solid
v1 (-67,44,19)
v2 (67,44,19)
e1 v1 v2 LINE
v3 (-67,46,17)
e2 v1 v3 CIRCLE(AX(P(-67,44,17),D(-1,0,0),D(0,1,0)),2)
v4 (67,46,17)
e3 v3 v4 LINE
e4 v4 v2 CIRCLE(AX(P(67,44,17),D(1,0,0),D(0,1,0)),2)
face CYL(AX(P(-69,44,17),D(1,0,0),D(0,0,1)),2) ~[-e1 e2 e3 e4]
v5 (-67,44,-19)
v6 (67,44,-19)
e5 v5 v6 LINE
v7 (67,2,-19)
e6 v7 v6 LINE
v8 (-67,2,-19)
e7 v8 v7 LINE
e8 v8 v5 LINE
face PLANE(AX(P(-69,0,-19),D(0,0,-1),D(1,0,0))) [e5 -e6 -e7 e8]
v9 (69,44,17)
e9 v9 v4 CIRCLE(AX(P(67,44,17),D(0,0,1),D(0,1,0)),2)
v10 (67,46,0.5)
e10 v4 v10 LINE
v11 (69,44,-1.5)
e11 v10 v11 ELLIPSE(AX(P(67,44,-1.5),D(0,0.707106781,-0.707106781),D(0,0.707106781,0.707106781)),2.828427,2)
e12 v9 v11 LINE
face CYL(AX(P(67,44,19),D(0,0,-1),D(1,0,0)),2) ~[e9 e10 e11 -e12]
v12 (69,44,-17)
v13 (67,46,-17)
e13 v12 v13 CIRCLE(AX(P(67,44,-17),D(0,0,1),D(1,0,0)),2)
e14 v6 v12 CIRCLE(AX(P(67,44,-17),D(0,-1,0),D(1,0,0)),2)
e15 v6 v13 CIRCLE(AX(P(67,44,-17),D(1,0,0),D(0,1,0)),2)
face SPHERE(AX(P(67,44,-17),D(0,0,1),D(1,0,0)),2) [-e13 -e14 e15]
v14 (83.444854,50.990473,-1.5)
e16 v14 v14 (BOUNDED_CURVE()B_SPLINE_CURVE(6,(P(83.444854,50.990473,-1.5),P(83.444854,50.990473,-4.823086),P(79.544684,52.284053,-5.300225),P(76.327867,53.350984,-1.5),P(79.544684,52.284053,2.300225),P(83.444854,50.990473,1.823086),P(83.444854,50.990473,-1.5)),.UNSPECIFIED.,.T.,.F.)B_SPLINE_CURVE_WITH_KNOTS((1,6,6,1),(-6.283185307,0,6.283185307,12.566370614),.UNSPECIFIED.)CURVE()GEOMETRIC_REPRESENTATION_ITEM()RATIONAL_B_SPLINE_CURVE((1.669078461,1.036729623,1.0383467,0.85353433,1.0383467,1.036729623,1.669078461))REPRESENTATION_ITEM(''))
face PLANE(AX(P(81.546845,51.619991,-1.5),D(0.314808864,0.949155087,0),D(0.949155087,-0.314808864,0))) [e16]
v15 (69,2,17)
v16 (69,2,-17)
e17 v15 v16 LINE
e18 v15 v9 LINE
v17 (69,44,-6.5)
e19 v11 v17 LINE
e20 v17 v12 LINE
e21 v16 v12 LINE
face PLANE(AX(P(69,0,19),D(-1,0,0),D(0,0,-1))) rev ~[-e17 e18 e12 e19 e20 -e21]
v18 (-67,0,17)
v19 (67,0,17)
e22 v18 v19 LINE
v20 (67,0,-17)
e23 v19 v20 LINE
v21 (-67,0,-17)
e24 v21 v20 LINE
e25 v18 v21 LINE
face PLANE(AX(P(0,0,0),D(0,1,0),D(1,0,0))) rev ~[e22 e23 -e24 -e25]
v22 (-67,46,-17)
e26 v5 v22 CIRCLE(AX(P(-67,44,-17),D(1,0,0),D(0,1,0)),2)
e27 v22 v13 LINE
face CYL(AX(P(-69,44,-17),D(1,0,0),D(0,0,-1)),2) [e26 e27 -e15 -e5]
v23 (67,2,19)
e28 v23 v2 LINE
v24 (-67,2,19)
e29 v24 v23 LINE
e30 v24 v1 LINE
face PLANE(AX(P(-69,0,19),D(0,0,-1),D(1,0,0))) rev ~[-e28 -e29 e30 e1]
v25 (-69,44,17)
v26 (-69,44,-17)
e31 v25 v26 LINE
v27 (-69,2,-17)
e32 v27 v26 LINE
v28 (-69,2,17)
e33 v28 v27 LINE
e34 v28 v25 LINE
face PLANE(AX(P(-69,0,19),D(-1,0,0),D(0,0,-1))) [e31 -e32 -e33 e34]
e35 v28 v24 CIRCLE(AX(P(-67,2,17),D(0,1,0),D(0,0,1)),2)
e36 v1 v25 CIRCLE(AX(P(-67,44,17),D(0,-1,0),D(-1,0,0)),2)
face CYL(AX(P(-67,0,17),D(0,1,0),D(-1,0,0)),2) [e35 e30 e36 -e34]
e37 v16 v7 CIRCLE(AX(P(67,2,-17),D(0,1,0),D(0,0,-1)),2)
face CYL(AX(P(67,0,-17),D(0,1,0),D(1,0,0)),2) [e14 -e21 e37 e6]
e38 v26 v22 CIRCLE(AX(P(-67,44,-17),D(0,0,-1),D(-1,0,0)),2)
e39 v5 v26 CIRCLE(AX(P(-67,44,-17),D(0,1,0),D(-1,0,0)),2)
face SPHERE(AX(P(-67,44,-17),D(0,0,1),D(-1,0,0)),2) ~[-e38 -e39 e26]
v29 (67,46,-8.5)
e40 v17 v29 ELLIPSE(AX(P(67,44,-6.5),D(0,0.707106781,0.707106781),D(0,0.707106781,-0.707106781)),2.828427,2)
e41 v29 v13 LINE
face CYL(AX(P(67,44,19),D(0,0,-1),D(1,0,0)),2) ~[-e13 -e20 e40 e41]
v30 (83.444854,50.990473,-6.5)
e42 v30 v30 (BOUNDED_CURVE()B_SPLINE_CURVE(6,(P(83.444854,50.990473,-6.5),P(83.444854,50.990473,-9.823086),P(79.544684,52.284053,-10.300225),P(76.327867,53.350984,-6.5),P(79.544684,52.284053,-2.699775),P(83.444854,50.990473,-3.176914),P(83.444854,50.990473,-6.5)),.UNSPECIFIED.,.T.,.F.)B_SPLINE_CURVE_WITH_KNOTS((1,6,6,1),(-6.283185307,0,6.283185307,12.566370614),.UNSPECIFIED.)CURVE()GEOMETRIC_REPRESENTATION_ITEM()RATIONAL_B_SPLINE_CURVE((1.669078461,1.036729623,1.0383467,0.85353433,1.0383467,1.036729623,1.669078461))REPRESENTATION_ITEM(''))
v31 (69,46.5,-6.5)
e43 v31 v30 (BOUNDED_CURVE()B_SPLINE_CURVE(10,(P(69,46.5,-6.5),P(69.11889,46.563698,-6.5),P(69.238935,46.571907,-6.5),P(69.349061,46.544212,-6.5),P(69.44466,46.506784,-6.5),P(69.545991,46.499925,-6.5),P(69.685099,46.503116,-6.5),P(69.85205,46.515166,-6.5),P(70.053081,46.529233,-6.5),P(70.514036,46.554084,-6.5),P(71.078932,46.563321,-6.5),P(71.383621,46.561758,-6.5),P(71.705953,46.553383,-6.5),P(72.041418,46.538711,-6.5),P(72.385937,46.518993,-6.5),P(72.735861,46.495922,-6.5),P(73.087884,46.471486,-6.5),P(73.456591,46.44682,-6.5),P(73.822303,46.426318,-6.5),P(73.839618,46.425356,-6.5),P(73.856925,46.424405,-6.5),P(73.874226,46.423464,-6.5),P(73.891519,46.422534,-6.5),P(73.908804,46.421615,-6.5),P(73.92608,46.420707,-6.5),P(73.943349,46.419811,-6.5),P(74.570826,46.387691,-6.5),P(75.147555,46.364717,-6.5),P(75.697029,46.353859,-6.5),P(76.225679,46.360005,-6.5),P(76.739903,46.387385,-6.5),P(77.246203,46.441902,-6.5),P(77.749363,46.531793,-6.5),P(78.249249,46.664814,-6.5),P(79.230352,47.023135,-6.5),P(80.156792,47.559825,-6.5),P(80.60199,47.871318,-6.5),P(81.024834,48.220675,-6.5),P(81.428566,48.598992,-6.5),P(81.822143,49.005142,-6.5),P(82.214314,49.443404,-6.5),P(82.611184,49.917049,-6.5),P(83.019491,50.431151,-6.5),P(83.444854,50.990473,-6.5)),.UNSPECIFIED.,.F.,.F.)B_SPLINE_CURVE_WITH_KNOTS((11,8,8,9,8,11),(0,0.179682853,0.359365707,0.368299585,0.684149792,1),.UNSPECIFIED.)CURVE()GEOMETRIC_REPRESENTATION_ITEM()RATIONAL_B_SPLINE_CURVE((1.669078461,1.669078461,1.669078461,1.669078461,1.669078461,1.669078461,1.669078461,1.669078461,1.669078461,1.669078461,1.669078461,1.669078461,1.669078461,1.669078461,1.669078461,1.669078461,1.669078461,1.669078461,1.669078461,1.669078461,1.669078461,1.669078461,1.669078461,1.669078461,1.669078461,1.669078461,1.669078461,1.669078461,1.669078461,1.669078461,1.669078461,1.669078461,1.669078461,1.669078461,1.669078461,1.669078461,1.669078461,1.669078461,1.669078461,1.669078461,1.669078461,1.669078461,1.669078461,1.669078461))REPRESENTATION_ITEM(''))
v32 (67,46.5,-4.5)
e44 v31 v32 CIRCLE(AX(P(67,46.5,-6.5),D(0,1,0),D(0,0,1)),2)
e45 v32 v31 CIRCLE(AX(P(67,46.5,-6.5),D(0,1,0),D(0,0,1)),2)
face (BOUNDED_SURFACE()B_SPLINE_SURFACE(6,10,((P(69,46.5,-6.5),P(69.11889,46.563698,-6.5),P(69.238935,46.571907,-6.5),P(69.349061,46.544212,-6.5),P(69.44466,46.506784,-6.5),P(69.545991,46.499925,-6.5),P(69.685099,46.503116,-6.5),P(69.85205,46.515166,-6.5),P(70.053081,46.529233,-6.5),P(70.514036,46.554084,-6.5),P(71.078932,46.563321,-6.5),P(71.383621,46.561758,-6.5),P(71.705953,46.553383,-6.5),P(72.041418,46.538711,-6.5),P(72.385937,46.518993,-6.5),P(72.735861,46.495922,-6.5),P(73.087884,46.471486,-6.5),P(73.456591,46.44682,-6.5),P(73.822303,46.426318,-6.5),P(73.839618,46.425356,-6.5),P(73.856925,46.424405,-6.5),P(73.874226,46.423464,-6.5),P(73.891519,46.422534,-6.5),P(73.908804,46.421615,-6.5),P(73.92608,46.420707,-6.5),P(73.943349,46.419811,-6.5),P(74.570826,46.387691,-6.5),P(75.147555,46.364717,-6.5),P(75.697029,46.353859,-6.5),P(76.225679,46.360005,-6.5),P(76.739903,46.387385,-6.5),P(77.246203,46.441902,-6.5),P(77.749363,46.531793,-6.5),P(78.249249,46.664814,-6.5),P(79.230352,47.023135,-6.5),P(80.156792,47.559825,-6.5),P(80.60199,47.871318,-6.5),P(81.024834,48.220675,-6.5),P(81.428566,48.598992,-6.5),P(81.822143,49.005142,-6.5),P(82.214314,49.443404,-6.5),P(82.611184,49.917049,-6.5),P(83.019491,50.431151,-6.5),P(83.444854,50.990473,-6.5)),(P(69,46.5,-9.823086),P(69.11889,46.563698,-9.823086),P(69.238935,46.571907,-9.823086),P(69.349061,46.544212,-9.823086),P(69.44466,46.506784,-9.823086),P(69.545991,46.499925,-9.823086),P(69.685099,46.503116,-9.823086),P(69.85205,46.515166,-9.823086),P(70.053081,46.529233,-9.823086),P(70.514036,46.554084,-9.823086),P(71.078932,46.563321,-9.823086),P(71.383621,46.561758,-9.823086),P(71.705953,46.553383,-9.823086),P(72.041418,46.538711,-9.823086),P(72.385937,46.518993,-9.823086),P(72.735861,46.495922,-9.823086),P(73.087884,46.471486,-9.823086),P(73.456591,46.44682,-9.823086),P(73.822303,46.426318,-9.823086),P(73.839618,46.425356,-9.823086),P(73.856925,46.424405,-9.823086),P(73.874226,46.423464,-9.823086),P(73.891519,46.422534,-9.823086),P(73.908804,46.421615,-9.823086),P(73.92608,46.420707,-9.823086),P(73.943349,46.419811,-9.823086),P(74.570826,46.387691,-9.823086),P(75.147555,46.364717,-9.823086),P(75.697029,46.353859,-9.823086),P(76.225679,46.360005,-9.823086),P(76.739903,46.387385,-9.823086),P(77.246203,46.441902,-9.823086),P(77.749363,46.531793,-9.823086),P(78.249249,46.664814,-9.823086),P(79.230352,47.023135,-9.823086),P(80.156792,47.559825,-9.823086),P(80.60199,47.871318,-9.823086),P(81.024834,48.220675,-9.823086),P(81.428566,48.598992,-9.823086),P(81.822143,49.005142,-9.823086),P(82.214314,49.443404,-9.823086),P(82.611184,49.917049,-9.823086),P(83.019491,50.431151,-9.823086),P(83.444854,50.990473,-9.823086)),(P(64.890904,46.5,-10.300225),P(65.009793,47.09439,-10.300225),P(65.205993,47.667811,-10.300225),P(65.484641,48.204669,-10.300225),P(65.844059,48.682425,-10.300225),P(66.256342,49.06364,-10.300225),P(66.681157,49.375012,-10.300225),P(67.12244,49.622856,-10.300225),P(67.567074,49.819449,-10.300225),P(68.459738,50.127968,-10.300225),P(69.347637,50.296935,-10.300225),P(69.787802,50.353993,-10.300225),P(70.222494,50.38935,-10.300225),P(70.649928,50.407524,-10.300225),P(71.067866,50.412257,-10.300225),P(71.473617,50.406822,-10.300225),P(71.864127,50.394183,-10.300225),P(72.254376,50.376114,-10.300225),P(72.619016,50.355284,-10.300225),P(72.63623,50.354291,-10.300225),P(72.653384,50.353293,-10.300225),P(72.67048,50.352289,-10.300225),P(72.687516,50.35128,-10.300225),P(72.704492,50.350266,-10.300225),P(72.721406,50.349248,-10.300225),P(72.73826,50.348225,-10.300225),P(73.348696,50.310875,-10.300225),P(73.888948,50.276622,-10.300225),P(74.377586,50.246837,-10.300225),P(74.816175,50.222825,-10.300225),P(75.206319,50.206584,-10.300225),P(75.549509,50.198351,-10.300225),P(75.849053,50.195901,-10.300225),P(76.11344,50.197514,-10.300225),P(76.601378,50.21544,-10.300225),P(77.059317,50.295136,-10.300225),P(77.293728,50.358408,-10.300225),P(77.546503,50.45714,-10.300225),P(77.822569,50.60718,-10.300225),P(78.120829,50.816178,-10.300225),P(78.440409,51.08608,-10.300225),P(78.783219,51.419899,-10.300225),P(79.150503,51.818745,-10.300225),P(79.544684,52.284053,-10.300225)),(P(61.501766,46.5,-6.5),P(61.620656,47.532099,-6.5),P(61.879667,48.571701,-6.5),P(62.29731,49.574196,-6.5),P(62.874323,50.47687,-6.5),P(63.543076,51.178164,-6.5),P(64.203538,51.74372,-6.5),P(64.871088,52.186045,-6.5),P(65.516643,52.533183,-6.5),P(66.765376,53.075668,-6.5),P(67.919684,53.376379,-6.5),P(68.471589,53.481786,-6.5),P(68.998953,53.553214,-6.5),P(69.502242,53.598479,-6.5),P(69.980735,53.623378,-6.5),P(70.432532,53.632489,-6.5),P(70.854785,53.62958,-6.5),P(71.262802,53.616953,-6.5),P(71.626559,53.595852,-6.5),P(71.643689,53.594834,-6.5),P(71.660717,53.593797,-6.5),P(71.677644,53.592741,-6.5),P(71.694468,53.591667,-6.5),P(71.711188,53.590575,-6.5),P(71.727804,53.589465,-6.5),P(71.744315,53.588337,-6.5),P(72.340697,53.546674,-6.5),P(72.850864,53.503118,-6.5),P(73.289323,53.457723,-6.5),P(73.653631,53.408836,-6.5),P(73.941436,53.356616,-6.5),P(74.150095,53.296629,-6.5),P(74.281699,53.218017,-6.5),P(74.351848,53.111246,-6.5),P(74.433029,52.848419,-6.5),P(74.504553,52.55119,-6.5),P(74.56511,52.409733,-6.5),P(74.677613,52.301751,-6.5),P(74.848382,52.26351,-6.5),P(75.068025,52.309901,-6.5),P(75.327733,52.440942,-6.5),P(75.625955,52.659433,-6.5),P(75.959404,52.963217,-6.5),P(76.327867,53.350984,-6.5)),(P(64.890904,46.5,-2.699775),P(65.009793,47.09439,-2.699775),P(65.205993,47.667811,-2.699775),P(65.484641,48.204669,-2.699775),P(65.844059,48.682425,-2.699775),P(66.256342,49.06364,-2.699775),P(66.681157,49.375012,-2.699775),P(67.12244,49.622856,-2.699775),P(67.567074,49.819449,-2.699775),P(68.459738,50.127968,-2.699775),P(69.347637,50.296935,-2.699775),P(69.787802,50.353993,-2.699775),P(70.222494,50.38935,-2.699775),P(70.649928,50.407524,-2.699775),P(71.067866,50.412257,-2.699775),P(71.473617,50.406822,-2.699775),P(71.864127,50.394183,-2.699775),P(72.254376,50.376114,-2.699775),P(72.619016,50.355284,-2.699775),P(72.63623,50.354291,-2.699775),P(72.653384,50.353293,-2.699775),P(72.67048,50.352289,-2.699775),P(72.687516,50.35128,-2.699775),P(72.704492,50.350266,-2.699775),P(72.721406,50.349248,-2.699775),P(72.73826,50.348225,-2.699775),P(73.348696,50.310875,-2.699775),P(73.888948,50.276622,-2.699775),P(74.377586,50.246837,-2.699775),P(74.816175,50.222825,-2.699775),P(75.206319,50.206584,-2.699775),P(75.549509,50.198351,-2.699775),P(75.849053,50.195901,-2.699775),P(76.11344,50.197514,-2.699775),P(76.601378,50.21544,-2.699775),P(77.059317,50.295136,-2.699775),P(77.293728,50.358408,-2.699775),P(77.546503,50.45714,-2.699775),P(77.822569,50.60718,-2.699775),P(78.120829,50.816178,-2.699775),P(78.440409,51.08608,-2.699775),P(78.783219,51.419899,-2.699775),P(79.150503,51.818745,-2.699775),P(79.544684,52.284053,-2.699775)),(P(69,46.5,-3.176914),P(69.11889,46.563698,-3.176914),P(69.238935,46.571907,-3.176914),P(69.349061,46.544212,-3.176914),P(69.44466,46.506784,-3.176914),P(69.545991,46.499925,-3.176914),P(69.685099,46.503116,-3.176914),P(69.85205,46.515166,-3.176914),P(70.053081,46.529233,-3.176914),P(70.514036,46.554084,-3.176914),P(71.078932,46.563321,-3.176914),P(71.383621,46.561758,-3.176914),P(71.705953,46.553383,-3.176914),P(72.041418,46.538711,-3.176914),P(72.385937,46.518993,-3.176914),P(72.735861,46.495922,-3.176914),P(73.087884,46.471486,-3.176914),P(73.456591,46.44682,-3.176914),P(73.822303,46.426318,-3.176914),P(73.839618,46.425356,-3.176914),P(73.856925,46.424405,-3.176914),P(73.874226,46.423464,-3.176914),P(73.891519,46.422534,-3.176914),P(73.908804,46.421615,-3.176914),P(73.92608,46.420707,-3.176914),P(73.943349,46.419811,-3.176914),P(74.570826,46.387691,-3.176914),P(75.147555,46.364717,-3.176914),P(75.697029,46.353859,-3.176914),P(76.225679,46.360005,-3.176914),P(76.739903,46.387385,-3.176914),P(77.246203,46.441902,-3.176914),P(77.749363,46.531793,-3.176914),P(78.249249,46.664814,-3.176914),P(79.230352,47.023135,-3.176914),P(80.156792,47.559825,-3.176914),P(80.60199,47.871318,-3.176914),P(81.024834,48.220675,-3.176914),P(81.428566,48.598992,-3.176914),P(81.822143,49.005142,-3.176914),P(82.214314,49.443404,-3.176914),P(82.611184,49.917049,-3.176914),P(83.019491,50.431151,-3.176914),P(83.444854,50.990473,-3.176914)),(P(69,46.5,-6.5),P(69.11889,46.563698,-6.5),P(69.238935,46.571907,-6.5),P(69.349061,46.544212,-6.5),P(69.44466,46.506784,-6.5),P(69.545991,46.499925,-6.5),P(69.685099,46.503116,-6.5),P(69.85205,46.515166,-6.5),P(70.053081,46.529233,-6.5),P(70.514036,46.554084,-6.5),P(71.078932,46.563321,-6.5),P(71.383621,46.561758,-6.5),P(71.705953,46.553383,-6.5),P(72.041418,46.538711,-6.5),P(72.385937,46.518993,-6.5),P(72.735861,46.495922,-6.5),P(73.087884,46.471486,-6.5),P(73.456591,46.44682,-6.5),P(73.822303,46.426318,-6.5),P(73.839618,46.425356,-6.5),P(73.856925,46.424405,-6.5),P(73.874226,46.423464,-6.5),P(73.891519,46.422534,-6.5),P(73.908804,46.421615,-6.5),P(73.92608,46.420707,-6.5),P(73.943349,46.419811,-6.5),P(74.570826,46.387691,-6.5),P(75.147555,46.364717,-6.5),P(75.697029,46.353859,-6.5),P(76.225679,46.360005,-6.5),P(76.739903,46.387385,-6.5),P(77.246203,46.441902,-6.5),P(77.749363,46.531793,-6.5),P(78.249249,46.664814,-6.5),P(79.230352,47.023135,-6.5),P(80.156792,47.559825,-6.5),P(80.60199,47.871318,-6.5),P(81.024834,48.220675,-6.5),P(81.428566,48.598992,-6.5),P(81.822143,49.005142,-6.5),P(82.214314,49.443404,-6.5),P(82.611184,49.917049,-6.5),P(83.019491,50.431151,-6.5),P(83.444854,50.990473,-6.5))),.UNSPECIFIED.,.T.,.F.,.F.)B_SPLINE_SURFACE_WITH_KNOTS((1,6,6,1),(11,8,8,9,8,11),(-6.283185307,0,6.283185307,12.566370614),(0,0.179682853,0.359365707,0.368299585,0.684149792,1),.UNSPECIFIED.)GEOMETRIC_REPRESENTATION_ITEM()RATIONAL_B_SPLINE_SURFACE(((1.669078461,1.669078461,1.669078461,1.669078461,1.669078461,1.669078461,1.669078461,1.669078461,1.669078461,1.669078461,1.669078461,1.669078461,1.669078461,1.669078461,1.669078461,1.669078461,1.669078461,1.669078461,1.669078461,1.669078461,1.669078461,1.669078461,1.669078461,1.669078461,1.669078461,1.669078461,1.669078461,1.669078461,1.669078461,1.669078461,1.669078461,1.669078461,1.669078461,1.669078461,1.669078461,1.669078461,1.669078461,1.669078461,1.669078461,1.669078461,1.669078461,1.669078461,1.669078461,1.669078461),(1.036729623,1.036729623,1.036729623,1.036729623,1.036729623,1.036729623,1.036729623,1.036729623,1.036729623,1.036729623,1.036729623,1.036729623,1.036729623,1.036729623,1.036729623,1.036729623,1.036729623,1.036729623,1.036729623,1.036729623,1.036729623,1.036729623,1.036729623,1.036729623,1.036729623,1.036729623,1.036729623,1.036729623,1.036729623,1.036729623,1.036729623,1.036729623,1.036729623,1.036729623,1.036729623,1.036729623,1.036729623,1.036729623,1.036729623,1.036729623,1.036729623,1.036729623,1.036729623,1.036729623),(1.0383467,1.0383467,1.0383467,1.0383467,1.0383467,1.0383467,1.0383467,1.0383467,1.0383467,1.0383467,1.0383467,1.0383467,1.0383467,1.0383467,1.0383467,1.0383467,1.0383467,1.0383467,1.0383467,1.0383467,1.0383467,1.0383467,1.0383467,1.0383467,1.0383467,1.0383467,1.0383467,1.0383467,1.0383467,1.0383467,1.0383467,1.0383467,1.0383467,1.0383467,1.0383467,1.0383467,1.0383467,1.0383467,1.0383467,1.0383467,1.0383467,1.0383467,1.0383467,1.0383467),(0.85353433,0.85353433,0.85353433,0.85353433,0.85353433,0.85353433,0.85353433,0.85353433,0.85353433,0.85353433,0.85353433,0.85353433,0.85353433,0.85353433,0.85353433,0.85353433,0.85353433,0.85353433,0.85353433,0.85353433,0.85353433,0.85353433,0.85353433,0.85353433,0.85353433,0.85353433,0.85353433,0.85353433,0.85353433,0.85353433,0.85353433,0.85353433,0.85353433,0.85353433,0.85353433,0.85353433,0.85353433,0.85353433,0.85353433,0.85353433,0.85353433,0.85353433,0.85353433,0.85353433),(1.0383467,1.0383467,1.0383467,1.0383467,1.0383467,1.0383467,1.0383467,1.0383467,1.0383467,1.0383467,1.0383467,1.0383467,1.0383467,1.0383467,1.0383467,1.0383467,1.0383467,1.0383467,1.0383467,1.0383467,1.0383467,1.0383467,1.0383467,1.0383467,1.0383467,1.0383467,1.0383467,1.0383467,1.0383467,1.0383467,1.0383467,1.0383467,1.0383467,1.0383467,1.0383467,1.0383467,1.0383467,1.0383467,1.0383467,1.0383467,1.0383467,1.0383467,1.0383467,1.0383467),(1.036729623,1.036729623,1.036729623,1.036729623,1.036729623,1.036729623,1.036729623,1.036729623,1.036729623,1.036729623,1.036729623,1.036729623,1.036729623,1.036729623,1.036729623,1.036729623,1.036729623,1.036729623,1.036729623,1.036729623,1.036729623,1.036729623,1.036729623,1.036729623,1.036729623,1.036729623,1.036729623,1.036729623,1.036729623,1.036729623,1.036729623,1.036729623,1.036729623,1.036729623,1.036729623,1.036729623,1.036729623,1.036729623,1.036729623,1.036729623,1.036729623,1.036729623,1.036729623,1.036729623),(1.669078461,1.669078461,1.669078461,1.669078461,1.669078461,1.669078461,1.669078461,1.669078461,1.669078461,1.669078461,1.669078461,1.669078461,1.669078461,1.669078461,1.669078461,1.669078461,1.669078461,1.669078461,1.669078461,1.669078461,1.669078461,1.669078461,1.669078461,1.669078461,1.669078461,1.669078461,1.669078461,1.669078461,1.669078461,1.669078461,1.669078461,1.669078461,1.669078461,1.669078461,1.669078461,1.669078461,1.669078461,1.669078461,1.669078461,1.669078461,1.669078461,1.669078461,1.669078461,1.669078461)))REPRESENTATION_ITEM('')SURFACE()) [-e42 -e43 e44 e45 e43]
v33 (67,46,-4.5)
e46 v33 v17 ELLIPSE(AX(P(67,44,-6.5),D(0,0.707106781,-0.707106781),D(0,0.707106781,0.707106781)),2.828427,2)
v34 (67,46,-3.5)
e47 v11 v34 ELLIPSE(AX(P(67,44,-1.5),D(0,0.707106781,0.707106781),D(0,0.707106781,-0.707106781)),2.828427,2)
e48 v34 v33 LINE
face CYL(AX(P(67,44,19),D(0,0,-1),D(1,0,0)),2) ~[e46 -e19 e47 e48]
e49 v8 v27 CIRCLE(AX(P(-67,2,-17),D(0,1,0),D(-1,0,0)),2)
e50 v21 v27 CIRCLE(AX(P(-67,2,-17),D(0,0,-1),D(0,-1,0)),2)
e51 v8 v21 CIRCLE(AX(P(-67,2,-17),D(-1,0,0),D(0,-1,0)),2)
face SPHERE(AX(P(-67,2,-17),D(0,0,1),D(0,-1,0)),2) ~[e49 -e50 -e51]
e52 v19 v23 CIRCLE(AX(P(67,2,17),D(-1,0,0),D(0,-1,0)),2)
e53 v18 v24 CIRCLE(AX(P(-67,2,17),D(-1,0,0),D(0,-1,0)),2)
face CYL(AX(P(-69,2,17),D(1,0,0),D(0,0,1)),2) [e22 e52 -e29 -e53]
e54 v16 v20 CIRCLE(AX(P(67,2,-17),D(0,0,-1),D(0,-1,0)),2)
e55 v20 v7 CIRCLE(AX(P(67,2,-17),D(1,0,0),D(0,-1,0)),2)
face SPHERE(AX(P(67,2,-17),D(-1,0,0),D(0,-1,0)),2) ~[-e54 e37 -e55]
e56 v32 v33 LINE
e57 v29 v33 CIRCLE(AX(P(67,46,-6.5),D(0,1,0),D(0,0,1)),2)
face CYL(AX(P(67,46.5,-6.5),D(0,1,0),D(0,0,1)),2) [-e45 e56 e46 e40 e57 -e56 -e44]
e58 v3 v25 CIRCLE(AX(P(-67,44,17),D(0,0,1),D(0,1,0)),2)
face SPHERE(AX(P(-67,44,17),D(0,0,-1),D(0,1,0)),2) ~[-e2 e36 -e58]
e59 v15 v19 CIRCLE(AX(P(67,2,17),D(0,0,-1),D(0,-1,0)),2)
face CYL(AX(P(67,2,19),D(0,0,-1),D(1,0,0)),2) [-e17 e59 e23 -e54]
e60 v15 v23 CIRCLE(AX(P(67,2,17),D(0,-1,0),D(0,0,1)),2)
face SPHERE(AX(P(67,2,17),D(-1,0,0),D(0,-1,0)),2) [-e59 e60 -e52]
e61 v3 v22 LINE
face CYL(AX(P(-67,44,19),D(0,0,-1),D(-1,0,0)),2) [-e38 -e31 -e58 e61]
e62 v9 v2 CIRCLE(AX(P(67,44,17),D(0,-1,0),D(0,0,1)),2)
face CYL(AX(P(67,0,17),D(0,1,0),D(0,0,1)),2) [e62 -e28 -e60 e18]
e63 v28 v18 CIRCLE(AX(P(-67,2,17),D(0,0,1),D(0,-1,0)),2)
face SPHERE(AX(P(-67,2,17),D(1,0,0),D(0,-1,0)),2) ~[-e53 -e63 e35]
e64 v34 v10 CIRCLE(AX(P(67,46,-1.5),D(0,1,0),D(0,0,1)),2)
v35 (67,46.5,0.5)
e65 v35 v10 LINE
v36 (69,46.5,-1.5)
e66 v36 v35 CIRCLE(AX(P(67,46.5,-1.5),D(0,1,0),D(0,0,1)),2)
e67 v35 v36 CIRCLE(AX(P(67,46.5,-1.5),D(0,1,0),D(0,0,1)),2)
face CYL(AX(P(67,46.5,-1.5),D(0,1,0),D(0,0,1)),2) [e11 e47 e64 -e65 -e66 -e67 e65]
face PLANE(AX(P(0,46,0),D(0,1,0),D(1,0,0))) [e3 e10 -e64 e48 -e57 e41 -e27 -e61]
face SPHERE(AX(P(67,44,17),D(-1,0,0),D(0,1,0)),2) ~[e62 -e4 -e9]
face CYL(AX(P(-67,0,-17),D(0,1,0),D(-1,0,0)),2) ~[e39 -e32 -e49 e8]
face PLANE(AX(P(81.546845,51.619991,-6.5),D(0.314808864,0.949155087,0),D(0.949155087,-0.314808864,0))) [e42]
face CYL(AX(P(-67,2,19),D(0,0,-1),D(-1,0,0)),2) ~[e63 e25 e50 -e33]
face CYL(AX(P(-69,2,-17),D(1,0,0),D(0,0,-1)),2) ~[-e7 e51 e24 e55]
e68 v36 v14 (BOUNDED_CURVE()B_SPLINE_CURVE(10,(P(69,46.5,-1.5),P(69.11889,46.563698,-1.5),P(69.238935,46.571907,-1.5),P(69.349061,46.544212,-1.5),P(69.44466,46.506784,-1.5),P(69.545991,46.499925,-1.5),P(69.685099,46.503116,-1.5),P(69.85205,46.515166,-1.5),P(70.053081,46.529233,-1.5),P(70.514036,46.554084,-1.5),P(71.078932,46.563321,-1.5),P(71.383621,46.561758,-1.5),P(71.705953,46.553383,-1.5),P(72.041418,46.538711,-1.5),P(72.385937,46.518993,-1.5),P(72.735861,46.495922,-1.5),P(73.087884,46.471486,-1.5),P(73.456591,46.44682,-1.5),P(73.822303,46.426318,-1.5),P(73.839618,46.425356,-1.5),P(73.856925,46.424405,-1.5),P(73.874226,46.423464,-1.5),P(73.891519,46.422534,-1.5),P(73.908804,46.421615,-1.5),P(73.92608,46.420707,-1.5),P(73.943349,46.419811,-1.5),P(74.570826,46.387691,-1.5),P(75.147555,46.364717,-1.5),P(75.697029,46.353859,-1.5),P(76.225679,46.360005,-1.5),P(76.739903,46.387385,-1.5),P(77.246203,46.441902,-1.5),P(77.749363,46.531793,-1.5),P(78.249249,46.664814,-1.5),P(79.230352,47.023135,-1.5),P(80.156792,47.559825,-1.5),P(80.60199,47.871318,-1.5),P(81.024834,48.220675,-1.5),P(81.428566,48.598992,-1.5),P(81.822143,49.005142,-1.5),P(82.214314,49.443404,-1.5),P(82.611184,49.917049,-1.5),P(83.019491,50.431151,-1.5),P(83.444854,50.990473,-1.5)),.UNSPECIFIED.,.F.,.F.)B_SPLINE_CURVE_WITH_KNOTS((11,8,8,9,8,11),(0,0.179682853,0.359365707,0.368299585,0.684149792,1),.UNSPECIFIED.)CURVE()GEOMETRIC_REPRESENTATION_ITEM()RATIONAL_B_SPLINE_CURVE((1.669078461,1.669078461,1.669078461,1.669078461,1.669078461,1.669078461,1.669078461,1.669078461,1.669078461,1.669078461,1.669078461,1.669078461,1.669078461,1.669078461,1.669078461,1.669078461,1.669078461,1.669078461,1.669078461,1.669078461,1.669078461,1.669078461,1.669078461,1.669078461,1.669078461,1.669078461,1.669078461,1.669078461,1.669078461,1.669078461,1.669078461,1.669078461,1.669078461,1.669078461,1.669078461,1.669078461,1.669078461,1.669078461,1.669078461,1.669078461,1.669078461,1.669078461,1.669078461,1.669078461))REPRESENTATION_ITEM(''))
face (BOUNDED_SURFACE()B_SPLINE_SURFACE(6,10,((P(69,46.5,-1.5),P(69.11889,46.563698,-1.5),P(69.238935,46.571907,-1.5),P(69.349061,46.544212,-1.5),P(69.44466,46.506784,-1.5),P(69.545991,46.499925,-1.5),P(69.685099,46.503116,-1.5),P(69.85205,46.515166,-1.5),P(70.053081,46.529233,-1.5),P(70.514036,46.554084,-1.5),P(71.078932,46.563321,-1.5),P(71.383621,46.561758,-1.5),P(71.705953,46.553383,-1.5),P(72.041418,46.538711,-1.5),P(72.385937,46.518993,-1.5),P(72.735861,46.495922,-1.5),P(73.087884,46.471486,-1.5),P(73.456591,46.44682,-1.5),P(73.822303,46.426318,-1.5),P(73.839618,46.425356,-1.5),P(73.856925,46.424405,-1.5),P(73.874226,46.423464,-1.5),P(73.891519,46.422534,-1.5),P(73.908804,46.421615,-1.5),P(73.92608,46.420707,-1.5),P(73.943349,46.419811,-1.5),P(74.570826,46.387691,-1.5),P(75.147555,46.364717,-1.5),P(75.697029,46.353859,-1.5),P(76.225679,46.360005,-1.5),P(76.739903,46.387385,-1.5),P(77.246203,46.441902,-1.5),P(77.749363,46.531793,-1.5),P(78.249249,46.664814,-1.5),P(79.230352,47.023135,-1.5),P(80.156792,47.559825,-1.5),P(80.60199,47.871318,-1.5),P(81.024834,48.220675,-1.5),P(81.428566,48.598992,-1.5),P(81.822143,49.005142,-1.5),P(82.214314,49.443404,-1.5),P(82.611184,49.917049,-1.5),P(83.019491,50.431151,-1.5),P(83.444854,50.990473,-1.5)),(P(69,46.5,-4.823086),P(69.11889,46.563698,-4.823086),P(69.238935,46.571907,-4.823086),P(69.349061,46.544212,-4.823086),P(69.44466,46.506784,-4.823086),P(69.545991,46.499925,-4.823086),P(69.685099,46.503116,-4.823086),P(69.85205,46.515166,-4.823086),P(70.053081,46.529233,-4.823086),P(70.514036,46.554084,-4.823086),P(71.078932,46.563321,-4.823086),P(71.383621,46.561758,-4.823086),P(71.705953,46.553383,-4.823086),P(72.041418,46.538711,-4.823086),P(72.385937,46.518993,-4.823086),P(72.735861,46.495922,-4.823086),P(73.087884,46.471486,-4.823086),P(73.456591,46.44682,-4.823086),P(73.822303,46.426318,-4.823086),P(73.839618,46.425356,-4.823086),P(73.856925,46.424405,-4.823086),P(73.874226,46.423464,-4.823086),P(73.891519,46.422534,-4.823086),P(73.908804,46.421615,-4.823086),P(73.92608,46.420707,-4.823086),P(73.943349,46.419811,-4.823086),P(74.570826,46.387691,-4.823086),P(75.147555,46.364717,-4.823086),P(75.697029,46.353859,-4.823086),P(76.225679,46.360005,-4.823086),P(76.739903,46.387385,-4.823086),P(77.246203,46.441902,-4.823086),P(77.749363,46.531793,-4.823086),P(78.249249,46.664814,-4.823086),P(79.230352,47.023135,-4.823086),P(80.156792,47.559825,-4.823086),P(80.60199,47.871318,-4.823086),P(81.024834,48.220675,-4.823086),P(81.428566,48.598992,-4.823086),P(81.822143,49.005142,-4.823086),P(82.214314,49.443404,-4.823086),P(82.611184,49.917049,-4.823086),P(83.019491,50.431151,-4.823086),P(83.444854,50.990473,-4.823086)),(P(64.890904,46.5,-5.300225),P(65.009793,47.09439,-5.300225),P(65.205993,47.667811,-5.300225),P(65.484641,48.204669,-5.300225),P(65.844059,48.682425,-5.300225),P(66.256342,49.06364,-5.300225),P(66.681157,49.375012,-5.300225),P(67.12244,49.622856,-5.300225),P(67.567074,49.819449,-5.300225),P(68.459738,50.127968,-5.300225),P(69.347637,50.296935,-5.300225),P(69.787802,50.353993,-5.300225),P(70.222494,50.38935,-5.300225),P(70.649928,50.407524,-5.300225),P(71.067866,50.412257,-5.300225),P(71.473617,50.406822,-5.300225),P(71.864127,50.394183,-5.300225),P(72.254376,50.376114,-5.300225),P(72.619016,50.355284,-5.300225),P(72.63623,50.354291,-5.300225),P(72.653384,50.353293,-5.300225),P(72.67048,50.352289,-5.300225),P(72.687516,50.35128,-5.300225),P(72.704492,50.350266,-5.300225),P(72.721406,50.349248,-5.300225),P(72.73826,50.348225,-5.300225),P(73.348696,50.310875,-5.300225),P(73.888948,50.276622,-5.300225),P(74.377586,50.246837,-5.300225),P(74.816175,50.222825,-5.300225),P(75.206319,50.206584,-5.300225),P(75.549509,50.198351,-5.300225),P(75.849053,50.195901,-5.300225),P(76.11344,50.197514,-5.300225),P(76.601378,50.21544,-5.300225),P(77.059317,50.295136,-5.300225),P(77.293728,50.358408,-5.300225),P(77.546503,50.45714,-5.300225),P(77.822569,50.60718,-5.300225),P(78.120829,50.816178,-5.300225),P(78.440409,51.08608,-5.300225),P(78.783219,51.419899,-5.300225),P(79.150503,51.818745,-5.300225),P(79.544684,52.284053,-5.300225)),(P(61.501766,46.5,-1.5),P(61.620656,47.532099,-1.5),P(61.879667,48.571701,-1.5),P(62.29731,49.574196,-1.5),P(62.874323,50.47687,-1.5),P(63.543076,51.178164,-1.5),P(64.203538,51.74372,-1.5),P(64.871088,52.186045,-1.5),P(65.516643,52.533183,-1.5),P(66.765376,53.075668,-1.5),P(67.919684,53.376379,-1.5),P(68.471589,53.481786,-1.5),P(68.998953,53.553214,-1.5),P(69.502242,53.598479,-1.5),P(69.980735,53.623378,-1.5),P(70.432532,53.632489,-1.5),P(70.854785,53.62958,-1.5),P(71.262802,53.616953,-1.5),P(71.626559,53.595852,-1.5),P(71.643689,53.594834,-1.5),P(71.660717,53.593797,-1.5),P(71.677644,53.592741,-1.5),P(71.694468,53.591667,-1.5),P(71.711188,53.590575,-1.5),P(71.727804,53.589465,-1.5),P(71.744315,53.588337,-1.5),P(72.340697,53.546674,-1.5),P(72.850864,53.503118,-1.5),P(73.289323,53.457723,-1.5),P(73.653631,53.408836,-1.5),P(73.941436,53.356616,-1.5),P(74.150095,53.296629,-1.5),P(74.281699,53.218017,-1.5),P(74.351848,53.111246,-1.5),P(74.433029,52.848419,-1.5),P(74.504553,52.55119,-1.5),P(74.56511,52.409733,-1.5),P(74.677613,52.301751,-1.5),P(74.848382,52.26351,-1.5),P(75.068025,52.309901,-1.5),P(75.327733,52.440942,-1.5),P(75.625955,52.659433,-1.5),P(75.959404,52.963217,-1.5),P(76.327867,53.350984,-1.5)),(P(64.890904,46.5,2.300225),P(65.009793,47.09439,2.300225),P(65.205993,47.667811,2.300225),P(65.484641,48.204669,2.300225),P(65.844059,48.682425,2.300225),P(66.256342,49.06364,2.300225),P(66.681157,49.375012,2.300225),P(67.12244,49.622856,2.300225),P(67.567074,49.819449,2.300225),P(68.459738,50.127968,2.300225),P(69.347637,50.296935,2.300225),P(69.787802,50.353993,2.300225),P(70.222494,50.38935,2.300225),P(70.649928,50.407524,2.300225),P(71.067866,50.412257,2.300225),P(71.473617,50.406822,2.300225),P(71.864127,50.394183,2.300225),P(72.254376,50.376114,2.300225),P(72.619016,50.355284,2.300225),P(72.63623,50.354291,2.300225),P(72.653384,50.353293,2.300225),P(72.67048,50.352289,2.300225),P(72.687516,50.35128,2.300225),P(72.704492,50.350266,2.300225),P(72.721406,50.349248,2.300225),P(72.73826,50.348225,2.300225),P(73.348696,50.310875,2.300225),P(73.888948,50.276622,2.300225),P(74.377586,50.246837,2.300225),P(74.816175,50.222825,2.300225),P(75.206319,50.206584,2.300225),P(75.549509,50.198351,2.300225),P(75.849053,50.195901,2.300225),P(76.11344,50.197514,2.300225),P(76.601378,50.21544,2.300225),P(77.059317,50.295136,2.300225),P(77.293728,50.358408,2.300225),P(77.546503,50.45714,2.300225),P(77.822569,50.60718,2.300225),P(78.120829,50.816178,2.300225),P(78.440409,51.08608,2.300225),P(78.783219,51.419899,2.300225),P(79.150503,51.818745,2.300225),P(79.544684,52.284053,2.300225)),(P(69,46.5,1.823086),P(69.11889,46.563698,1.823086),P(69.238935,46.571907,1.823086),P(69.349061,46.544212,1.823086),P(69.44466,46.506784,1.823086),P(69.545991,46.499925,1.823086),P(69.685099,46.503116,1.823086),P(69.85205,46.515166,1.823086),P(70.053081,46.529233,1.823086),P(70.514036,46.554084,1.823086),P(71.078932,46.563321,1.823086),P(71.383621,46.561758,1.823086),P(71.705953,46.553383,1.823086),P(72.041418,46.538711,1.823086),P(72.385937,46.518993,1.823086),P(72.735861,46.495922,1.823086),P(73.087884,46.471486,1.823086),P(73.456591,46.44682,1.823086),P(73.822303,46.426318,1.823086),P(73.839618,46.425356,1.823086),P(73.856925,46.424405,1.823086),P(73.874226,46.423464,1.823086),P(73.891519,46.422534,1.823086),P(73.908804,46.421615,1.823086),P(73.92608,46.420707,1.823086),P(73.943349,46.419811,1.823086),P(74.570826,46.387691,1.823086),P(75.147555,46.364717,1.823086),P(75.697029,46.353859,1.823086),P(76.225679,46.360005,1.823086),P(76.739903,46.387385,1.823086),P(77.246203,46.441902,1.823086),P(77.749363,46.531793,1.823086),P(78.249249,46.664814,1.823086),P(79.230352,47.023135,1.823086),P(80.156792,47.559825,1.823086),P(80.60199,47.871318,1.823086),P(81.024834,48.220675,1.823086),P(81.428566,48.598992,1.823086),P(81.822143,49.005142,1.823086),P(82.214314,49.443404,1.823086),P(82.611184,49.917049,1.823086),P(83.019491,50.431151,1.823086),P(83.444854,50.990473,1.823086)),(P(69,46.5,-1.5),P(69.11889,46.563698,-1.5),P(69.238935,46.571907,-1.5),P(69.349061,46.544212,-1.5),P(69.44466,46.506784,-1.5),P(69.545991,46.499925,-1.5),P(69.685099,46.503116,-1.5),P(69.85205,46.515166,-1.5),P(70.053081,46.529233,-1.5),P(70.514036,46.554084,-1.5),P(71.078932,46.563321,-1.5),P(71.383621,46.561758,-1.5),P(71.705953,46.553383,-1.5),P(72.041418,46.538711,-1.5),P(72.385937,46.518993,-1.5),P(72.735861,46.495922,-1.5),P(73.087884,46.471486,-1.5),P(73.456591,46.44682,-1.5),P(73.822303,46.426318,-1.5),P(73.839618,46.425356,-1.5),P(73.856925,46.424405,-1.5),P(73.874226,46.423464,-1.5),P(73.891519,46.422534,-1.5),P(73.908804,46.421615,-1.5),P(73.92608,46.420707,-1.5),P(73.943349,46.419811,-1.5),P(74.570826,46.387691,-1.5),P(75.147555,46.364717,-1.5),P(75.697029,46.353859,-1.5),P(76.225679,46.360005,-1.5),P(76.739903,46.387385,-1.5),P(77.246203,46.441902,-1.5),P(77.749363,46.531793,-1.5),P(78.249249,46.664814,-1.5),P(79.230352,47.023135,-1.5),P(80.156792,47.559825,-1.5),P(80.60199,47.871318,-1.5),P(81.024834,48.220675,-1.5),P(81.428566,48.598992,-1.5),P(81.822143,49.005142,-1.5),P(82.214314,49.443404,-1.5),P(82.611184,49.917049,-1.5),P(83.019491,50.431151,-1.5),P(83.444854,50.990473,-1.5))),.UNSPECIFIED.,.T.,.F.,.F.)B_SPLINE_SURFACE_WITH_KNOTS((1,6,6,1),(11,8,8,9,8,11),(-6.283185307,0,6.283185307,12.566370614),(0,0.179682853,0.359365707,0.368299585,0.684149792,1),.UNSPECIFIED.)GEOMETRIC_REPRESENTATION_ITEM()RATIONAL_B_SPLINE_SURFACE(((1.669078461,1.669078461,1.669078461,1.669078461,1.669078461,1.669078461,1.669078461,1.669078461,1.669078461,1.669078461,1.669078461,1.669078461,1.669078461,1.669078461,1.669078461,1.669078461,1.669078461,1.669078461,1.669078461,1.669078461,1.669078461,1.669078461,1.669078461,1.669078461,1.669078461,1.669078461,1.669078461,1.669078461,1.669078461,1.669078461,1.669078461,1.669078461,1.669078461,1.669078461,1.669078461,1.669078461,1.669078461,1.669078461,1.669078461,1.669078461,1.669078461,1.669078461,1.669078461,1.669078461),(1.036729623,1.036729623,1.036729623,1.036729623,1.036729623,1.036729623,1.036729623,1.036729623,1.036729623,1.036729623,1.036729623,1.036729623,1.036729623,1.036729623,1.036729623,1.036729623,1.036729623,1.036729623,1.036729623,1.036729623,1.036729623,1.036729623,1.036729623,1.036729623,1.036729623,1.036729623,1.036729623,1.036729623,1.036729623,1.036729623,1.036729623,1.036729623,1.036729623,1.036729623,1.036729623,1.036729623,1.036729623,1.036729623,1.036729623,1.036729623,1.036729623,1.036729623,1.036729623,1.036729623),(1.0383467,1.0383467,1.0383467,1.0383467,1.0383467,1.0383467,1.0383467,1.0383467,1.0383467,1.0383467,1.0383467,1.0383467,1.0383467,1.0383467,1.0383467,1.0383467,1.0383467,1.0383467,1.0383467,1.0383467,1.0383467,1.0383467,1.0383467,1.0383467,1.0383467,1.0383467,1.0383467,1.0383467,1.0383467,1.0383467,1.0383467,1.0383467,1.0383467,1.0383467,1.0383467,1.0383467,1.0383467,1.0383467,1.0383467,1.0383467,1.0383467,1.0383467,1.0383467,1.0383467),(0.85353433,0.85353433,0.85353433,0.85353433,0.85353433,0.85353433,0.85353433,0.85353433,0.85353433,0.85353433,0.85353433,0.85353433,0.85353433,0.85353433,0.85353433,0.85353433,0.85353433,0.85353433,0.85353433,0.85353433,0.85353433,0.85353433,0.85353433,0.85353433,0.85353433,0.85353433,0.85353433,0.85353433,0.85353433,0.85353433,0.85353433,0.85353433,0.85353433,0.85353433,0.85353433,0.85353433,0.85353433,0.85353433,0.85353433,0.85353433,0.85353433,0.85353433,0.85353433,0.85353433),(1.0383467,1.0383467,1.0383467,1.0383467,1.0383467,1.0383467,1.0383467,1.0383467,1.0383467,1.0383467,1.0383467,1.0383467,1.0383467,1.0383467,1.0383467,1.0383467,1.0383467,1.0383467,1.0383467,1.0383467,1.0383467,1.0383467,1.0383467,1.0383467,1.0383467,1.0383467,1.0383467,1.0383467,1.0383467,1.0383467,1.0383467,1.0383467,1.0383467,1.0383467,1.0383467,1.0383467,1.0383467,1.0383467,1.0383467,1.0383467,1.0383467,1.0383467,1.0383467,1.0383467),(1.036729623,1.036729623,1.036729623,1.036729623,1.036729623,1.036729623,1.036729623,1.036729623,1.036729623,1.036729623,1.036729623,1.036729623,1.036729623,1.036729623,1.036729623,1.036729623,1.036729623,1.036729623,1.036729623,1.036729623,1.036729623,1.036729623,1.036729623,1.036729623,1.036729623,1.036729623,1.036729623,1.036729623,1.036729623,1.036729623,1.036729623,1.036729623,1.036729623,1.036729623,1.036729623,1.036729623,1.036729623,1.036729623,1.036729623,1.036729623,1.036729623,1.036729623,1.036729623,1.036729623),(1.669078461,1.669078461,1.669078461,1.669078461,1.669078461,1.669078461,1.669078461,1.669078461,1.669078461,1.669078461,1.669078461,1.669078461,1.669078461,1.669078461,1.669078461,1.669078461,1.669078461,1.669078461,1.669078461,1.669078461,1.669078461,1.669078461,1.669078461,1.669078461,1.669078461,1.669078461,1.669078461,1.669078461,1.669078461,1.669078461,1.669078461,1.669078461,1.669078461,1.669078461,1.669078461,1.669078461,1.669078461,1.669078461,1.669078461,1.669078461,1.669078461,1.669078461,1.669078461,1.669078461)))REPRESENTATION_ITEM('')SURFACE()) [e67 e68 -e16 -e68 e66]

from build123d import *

# Parameters (mm, degrees)
SZKIC1_W                         = 138
SZKIC1_H                         = 38
DODANIE_WYCI_GNI_CIE1_DEPTH      = 46
ZAOKR_GLENIE1_R                  = 2
DODANIE_WYCI_GNI_CIE2_REACH      = 87.348
DODANIE_WYCI_GNI_CIE2_END_RADIUS = 2
SZKIC3_R                         = 2
SZKIC5_R                         = 2


with BuildPart() as part:
    # Szkic1 → Dodanie-wyciągnięcie1 (new body)
    with BuildSketch(Plane(origin=(0, 0, 0), x_dir=(1, 0, 0), z_dir=(0, 1, 0))):
        Rectangle(SZKIC1_W, SZKIC1_H)
    extrude(amount=DODANIE_WYCI_GNI_CIE1_DEPTH)

    # Zaokrąglenie1
    zaokr_glenie1_edges = [part.edges().sort_by_distance(p)[0] for p in [
        (-69, 46, 0),
        (0, 46, 19),
        (69, 46, 0),
        (0, 0, 19),
        (-69, 0, 0),
        (0, 0, -19),
        (69, 0, 0),
        (69, 23, 19),
        (-69, 23, 19),
        (-69, 23, -19),
        (69, 23, -19),
        (0, 46, -19),
    ]]
    fillet(zaokr_glenie1_edges, radius=ZAOKR_GLENIE1_R)

    # Dodanie-wyciągnięcie2: up to this cylinder (the profile starts outside it)
    dodanie_wyci_gni_cie2_end = Plane(origin=(67, 44, -4), z_dir=(0, 0, -1)) * Cylinder(DODANIE_WYCI_GNI_CIE2_END_RADIUS, 184.696, mode=Mode.PRIVATE)
    # Szkic3 → Dodanie-wyciągnięcie2 (add, up to the surface)
    with BuildSketch(Plane(origin=(0, 46.5, 0), x_dir=(1, 0, 0), z_dir=(0, 1, 0)), mode=Mode.PRIVATE) as dodanie_wyci_gni_cie2_sk1:
        with Locations(Location((67, 6.5, 0), (0, 0, 270))):
            Circle(SZKIC3_R)
    dodanie_wyci_gni_cie2_tool1 = extrude(dodanie_wyci_gni_cie2_sk1.sketch, amount=-DODANIE_WYCI_GNI_CIE2_REACH, mode=Mode.PRIVATE) - dodanie_wyci_gni_cie2_end
    add(dodanie_wyci_gni_cie2_tool1.solids().sort_by_distance((67, 46.5, -6.5))[0])
    # Szkic3 → Dodanie-wyciągnięcie2 (add, up to the surface)
    with BuildSketch(Plane(origin=(0, 46.5, 0), x_dir=(1, 0, 0), z_dir=(0, 1, 0)), mode=Mode.PRIVATE) as dodanie_wyci_gni_cie2_sk2:
        with Locations(Location((67, 1.5, 0), (0, 0, 270))):
            Circle(SZKIC3_R)
    dodanie_wyci_gni_cie2_tool2 = extrude(dodanie_wyci_gni_cie2_sk2.sketch, amount=-DODANIE_WYCI_GNI_CIE2_REACH, mode=Mode.PRIVATE) - dodanie_wyci_gni_cie2_end
    add(dodanie_wyci_gni_cie2_tool2.solids().sort_by_distance((67, 46.5, -1.5))[0])

    # Wyciągnięcie po ścieżce1: sweep along a path in Szkic4
    with BuildLine() as wyci_gni_cie_po_cie_ce1_path:  # in the path sketch's own coordinates; laid on its plane below (add() does not lay a ready-made edge on the line's plane)
        add(Edge.make_bspline(
            [(-67, 46.5), (-67.812300982, 48.700029071), (-76.558056505, 48.053598024), (-78.81196866, 48.196334496), (-81.546543778, 51.620091174)],
            knots=[0, 0, 0, 0, 0.368299585, 1, 1, 1, 1], degree=3))
    # Szkic5 → Wyciągnięcie po ścieżce1 (sweep)
    with BuildSketch(Plane(origin=(0, 46.5, 0), x_dir=(1, 0, 0), z_dir=(0, 1, 0))):
        with Locations((67, 6.5)):
            Circle(SZKIC5_R)
        with Locations((67, 1.5)):
            Circle(SZKIC5_R)
    sweep(path=Plane(origin=(0, 0, -4), x_dir=(-1, 0, 0), z_dir=(0, 0, -1)) * wyci_gni_cie_po_cie_ce1_path.line)


solid = part.part
